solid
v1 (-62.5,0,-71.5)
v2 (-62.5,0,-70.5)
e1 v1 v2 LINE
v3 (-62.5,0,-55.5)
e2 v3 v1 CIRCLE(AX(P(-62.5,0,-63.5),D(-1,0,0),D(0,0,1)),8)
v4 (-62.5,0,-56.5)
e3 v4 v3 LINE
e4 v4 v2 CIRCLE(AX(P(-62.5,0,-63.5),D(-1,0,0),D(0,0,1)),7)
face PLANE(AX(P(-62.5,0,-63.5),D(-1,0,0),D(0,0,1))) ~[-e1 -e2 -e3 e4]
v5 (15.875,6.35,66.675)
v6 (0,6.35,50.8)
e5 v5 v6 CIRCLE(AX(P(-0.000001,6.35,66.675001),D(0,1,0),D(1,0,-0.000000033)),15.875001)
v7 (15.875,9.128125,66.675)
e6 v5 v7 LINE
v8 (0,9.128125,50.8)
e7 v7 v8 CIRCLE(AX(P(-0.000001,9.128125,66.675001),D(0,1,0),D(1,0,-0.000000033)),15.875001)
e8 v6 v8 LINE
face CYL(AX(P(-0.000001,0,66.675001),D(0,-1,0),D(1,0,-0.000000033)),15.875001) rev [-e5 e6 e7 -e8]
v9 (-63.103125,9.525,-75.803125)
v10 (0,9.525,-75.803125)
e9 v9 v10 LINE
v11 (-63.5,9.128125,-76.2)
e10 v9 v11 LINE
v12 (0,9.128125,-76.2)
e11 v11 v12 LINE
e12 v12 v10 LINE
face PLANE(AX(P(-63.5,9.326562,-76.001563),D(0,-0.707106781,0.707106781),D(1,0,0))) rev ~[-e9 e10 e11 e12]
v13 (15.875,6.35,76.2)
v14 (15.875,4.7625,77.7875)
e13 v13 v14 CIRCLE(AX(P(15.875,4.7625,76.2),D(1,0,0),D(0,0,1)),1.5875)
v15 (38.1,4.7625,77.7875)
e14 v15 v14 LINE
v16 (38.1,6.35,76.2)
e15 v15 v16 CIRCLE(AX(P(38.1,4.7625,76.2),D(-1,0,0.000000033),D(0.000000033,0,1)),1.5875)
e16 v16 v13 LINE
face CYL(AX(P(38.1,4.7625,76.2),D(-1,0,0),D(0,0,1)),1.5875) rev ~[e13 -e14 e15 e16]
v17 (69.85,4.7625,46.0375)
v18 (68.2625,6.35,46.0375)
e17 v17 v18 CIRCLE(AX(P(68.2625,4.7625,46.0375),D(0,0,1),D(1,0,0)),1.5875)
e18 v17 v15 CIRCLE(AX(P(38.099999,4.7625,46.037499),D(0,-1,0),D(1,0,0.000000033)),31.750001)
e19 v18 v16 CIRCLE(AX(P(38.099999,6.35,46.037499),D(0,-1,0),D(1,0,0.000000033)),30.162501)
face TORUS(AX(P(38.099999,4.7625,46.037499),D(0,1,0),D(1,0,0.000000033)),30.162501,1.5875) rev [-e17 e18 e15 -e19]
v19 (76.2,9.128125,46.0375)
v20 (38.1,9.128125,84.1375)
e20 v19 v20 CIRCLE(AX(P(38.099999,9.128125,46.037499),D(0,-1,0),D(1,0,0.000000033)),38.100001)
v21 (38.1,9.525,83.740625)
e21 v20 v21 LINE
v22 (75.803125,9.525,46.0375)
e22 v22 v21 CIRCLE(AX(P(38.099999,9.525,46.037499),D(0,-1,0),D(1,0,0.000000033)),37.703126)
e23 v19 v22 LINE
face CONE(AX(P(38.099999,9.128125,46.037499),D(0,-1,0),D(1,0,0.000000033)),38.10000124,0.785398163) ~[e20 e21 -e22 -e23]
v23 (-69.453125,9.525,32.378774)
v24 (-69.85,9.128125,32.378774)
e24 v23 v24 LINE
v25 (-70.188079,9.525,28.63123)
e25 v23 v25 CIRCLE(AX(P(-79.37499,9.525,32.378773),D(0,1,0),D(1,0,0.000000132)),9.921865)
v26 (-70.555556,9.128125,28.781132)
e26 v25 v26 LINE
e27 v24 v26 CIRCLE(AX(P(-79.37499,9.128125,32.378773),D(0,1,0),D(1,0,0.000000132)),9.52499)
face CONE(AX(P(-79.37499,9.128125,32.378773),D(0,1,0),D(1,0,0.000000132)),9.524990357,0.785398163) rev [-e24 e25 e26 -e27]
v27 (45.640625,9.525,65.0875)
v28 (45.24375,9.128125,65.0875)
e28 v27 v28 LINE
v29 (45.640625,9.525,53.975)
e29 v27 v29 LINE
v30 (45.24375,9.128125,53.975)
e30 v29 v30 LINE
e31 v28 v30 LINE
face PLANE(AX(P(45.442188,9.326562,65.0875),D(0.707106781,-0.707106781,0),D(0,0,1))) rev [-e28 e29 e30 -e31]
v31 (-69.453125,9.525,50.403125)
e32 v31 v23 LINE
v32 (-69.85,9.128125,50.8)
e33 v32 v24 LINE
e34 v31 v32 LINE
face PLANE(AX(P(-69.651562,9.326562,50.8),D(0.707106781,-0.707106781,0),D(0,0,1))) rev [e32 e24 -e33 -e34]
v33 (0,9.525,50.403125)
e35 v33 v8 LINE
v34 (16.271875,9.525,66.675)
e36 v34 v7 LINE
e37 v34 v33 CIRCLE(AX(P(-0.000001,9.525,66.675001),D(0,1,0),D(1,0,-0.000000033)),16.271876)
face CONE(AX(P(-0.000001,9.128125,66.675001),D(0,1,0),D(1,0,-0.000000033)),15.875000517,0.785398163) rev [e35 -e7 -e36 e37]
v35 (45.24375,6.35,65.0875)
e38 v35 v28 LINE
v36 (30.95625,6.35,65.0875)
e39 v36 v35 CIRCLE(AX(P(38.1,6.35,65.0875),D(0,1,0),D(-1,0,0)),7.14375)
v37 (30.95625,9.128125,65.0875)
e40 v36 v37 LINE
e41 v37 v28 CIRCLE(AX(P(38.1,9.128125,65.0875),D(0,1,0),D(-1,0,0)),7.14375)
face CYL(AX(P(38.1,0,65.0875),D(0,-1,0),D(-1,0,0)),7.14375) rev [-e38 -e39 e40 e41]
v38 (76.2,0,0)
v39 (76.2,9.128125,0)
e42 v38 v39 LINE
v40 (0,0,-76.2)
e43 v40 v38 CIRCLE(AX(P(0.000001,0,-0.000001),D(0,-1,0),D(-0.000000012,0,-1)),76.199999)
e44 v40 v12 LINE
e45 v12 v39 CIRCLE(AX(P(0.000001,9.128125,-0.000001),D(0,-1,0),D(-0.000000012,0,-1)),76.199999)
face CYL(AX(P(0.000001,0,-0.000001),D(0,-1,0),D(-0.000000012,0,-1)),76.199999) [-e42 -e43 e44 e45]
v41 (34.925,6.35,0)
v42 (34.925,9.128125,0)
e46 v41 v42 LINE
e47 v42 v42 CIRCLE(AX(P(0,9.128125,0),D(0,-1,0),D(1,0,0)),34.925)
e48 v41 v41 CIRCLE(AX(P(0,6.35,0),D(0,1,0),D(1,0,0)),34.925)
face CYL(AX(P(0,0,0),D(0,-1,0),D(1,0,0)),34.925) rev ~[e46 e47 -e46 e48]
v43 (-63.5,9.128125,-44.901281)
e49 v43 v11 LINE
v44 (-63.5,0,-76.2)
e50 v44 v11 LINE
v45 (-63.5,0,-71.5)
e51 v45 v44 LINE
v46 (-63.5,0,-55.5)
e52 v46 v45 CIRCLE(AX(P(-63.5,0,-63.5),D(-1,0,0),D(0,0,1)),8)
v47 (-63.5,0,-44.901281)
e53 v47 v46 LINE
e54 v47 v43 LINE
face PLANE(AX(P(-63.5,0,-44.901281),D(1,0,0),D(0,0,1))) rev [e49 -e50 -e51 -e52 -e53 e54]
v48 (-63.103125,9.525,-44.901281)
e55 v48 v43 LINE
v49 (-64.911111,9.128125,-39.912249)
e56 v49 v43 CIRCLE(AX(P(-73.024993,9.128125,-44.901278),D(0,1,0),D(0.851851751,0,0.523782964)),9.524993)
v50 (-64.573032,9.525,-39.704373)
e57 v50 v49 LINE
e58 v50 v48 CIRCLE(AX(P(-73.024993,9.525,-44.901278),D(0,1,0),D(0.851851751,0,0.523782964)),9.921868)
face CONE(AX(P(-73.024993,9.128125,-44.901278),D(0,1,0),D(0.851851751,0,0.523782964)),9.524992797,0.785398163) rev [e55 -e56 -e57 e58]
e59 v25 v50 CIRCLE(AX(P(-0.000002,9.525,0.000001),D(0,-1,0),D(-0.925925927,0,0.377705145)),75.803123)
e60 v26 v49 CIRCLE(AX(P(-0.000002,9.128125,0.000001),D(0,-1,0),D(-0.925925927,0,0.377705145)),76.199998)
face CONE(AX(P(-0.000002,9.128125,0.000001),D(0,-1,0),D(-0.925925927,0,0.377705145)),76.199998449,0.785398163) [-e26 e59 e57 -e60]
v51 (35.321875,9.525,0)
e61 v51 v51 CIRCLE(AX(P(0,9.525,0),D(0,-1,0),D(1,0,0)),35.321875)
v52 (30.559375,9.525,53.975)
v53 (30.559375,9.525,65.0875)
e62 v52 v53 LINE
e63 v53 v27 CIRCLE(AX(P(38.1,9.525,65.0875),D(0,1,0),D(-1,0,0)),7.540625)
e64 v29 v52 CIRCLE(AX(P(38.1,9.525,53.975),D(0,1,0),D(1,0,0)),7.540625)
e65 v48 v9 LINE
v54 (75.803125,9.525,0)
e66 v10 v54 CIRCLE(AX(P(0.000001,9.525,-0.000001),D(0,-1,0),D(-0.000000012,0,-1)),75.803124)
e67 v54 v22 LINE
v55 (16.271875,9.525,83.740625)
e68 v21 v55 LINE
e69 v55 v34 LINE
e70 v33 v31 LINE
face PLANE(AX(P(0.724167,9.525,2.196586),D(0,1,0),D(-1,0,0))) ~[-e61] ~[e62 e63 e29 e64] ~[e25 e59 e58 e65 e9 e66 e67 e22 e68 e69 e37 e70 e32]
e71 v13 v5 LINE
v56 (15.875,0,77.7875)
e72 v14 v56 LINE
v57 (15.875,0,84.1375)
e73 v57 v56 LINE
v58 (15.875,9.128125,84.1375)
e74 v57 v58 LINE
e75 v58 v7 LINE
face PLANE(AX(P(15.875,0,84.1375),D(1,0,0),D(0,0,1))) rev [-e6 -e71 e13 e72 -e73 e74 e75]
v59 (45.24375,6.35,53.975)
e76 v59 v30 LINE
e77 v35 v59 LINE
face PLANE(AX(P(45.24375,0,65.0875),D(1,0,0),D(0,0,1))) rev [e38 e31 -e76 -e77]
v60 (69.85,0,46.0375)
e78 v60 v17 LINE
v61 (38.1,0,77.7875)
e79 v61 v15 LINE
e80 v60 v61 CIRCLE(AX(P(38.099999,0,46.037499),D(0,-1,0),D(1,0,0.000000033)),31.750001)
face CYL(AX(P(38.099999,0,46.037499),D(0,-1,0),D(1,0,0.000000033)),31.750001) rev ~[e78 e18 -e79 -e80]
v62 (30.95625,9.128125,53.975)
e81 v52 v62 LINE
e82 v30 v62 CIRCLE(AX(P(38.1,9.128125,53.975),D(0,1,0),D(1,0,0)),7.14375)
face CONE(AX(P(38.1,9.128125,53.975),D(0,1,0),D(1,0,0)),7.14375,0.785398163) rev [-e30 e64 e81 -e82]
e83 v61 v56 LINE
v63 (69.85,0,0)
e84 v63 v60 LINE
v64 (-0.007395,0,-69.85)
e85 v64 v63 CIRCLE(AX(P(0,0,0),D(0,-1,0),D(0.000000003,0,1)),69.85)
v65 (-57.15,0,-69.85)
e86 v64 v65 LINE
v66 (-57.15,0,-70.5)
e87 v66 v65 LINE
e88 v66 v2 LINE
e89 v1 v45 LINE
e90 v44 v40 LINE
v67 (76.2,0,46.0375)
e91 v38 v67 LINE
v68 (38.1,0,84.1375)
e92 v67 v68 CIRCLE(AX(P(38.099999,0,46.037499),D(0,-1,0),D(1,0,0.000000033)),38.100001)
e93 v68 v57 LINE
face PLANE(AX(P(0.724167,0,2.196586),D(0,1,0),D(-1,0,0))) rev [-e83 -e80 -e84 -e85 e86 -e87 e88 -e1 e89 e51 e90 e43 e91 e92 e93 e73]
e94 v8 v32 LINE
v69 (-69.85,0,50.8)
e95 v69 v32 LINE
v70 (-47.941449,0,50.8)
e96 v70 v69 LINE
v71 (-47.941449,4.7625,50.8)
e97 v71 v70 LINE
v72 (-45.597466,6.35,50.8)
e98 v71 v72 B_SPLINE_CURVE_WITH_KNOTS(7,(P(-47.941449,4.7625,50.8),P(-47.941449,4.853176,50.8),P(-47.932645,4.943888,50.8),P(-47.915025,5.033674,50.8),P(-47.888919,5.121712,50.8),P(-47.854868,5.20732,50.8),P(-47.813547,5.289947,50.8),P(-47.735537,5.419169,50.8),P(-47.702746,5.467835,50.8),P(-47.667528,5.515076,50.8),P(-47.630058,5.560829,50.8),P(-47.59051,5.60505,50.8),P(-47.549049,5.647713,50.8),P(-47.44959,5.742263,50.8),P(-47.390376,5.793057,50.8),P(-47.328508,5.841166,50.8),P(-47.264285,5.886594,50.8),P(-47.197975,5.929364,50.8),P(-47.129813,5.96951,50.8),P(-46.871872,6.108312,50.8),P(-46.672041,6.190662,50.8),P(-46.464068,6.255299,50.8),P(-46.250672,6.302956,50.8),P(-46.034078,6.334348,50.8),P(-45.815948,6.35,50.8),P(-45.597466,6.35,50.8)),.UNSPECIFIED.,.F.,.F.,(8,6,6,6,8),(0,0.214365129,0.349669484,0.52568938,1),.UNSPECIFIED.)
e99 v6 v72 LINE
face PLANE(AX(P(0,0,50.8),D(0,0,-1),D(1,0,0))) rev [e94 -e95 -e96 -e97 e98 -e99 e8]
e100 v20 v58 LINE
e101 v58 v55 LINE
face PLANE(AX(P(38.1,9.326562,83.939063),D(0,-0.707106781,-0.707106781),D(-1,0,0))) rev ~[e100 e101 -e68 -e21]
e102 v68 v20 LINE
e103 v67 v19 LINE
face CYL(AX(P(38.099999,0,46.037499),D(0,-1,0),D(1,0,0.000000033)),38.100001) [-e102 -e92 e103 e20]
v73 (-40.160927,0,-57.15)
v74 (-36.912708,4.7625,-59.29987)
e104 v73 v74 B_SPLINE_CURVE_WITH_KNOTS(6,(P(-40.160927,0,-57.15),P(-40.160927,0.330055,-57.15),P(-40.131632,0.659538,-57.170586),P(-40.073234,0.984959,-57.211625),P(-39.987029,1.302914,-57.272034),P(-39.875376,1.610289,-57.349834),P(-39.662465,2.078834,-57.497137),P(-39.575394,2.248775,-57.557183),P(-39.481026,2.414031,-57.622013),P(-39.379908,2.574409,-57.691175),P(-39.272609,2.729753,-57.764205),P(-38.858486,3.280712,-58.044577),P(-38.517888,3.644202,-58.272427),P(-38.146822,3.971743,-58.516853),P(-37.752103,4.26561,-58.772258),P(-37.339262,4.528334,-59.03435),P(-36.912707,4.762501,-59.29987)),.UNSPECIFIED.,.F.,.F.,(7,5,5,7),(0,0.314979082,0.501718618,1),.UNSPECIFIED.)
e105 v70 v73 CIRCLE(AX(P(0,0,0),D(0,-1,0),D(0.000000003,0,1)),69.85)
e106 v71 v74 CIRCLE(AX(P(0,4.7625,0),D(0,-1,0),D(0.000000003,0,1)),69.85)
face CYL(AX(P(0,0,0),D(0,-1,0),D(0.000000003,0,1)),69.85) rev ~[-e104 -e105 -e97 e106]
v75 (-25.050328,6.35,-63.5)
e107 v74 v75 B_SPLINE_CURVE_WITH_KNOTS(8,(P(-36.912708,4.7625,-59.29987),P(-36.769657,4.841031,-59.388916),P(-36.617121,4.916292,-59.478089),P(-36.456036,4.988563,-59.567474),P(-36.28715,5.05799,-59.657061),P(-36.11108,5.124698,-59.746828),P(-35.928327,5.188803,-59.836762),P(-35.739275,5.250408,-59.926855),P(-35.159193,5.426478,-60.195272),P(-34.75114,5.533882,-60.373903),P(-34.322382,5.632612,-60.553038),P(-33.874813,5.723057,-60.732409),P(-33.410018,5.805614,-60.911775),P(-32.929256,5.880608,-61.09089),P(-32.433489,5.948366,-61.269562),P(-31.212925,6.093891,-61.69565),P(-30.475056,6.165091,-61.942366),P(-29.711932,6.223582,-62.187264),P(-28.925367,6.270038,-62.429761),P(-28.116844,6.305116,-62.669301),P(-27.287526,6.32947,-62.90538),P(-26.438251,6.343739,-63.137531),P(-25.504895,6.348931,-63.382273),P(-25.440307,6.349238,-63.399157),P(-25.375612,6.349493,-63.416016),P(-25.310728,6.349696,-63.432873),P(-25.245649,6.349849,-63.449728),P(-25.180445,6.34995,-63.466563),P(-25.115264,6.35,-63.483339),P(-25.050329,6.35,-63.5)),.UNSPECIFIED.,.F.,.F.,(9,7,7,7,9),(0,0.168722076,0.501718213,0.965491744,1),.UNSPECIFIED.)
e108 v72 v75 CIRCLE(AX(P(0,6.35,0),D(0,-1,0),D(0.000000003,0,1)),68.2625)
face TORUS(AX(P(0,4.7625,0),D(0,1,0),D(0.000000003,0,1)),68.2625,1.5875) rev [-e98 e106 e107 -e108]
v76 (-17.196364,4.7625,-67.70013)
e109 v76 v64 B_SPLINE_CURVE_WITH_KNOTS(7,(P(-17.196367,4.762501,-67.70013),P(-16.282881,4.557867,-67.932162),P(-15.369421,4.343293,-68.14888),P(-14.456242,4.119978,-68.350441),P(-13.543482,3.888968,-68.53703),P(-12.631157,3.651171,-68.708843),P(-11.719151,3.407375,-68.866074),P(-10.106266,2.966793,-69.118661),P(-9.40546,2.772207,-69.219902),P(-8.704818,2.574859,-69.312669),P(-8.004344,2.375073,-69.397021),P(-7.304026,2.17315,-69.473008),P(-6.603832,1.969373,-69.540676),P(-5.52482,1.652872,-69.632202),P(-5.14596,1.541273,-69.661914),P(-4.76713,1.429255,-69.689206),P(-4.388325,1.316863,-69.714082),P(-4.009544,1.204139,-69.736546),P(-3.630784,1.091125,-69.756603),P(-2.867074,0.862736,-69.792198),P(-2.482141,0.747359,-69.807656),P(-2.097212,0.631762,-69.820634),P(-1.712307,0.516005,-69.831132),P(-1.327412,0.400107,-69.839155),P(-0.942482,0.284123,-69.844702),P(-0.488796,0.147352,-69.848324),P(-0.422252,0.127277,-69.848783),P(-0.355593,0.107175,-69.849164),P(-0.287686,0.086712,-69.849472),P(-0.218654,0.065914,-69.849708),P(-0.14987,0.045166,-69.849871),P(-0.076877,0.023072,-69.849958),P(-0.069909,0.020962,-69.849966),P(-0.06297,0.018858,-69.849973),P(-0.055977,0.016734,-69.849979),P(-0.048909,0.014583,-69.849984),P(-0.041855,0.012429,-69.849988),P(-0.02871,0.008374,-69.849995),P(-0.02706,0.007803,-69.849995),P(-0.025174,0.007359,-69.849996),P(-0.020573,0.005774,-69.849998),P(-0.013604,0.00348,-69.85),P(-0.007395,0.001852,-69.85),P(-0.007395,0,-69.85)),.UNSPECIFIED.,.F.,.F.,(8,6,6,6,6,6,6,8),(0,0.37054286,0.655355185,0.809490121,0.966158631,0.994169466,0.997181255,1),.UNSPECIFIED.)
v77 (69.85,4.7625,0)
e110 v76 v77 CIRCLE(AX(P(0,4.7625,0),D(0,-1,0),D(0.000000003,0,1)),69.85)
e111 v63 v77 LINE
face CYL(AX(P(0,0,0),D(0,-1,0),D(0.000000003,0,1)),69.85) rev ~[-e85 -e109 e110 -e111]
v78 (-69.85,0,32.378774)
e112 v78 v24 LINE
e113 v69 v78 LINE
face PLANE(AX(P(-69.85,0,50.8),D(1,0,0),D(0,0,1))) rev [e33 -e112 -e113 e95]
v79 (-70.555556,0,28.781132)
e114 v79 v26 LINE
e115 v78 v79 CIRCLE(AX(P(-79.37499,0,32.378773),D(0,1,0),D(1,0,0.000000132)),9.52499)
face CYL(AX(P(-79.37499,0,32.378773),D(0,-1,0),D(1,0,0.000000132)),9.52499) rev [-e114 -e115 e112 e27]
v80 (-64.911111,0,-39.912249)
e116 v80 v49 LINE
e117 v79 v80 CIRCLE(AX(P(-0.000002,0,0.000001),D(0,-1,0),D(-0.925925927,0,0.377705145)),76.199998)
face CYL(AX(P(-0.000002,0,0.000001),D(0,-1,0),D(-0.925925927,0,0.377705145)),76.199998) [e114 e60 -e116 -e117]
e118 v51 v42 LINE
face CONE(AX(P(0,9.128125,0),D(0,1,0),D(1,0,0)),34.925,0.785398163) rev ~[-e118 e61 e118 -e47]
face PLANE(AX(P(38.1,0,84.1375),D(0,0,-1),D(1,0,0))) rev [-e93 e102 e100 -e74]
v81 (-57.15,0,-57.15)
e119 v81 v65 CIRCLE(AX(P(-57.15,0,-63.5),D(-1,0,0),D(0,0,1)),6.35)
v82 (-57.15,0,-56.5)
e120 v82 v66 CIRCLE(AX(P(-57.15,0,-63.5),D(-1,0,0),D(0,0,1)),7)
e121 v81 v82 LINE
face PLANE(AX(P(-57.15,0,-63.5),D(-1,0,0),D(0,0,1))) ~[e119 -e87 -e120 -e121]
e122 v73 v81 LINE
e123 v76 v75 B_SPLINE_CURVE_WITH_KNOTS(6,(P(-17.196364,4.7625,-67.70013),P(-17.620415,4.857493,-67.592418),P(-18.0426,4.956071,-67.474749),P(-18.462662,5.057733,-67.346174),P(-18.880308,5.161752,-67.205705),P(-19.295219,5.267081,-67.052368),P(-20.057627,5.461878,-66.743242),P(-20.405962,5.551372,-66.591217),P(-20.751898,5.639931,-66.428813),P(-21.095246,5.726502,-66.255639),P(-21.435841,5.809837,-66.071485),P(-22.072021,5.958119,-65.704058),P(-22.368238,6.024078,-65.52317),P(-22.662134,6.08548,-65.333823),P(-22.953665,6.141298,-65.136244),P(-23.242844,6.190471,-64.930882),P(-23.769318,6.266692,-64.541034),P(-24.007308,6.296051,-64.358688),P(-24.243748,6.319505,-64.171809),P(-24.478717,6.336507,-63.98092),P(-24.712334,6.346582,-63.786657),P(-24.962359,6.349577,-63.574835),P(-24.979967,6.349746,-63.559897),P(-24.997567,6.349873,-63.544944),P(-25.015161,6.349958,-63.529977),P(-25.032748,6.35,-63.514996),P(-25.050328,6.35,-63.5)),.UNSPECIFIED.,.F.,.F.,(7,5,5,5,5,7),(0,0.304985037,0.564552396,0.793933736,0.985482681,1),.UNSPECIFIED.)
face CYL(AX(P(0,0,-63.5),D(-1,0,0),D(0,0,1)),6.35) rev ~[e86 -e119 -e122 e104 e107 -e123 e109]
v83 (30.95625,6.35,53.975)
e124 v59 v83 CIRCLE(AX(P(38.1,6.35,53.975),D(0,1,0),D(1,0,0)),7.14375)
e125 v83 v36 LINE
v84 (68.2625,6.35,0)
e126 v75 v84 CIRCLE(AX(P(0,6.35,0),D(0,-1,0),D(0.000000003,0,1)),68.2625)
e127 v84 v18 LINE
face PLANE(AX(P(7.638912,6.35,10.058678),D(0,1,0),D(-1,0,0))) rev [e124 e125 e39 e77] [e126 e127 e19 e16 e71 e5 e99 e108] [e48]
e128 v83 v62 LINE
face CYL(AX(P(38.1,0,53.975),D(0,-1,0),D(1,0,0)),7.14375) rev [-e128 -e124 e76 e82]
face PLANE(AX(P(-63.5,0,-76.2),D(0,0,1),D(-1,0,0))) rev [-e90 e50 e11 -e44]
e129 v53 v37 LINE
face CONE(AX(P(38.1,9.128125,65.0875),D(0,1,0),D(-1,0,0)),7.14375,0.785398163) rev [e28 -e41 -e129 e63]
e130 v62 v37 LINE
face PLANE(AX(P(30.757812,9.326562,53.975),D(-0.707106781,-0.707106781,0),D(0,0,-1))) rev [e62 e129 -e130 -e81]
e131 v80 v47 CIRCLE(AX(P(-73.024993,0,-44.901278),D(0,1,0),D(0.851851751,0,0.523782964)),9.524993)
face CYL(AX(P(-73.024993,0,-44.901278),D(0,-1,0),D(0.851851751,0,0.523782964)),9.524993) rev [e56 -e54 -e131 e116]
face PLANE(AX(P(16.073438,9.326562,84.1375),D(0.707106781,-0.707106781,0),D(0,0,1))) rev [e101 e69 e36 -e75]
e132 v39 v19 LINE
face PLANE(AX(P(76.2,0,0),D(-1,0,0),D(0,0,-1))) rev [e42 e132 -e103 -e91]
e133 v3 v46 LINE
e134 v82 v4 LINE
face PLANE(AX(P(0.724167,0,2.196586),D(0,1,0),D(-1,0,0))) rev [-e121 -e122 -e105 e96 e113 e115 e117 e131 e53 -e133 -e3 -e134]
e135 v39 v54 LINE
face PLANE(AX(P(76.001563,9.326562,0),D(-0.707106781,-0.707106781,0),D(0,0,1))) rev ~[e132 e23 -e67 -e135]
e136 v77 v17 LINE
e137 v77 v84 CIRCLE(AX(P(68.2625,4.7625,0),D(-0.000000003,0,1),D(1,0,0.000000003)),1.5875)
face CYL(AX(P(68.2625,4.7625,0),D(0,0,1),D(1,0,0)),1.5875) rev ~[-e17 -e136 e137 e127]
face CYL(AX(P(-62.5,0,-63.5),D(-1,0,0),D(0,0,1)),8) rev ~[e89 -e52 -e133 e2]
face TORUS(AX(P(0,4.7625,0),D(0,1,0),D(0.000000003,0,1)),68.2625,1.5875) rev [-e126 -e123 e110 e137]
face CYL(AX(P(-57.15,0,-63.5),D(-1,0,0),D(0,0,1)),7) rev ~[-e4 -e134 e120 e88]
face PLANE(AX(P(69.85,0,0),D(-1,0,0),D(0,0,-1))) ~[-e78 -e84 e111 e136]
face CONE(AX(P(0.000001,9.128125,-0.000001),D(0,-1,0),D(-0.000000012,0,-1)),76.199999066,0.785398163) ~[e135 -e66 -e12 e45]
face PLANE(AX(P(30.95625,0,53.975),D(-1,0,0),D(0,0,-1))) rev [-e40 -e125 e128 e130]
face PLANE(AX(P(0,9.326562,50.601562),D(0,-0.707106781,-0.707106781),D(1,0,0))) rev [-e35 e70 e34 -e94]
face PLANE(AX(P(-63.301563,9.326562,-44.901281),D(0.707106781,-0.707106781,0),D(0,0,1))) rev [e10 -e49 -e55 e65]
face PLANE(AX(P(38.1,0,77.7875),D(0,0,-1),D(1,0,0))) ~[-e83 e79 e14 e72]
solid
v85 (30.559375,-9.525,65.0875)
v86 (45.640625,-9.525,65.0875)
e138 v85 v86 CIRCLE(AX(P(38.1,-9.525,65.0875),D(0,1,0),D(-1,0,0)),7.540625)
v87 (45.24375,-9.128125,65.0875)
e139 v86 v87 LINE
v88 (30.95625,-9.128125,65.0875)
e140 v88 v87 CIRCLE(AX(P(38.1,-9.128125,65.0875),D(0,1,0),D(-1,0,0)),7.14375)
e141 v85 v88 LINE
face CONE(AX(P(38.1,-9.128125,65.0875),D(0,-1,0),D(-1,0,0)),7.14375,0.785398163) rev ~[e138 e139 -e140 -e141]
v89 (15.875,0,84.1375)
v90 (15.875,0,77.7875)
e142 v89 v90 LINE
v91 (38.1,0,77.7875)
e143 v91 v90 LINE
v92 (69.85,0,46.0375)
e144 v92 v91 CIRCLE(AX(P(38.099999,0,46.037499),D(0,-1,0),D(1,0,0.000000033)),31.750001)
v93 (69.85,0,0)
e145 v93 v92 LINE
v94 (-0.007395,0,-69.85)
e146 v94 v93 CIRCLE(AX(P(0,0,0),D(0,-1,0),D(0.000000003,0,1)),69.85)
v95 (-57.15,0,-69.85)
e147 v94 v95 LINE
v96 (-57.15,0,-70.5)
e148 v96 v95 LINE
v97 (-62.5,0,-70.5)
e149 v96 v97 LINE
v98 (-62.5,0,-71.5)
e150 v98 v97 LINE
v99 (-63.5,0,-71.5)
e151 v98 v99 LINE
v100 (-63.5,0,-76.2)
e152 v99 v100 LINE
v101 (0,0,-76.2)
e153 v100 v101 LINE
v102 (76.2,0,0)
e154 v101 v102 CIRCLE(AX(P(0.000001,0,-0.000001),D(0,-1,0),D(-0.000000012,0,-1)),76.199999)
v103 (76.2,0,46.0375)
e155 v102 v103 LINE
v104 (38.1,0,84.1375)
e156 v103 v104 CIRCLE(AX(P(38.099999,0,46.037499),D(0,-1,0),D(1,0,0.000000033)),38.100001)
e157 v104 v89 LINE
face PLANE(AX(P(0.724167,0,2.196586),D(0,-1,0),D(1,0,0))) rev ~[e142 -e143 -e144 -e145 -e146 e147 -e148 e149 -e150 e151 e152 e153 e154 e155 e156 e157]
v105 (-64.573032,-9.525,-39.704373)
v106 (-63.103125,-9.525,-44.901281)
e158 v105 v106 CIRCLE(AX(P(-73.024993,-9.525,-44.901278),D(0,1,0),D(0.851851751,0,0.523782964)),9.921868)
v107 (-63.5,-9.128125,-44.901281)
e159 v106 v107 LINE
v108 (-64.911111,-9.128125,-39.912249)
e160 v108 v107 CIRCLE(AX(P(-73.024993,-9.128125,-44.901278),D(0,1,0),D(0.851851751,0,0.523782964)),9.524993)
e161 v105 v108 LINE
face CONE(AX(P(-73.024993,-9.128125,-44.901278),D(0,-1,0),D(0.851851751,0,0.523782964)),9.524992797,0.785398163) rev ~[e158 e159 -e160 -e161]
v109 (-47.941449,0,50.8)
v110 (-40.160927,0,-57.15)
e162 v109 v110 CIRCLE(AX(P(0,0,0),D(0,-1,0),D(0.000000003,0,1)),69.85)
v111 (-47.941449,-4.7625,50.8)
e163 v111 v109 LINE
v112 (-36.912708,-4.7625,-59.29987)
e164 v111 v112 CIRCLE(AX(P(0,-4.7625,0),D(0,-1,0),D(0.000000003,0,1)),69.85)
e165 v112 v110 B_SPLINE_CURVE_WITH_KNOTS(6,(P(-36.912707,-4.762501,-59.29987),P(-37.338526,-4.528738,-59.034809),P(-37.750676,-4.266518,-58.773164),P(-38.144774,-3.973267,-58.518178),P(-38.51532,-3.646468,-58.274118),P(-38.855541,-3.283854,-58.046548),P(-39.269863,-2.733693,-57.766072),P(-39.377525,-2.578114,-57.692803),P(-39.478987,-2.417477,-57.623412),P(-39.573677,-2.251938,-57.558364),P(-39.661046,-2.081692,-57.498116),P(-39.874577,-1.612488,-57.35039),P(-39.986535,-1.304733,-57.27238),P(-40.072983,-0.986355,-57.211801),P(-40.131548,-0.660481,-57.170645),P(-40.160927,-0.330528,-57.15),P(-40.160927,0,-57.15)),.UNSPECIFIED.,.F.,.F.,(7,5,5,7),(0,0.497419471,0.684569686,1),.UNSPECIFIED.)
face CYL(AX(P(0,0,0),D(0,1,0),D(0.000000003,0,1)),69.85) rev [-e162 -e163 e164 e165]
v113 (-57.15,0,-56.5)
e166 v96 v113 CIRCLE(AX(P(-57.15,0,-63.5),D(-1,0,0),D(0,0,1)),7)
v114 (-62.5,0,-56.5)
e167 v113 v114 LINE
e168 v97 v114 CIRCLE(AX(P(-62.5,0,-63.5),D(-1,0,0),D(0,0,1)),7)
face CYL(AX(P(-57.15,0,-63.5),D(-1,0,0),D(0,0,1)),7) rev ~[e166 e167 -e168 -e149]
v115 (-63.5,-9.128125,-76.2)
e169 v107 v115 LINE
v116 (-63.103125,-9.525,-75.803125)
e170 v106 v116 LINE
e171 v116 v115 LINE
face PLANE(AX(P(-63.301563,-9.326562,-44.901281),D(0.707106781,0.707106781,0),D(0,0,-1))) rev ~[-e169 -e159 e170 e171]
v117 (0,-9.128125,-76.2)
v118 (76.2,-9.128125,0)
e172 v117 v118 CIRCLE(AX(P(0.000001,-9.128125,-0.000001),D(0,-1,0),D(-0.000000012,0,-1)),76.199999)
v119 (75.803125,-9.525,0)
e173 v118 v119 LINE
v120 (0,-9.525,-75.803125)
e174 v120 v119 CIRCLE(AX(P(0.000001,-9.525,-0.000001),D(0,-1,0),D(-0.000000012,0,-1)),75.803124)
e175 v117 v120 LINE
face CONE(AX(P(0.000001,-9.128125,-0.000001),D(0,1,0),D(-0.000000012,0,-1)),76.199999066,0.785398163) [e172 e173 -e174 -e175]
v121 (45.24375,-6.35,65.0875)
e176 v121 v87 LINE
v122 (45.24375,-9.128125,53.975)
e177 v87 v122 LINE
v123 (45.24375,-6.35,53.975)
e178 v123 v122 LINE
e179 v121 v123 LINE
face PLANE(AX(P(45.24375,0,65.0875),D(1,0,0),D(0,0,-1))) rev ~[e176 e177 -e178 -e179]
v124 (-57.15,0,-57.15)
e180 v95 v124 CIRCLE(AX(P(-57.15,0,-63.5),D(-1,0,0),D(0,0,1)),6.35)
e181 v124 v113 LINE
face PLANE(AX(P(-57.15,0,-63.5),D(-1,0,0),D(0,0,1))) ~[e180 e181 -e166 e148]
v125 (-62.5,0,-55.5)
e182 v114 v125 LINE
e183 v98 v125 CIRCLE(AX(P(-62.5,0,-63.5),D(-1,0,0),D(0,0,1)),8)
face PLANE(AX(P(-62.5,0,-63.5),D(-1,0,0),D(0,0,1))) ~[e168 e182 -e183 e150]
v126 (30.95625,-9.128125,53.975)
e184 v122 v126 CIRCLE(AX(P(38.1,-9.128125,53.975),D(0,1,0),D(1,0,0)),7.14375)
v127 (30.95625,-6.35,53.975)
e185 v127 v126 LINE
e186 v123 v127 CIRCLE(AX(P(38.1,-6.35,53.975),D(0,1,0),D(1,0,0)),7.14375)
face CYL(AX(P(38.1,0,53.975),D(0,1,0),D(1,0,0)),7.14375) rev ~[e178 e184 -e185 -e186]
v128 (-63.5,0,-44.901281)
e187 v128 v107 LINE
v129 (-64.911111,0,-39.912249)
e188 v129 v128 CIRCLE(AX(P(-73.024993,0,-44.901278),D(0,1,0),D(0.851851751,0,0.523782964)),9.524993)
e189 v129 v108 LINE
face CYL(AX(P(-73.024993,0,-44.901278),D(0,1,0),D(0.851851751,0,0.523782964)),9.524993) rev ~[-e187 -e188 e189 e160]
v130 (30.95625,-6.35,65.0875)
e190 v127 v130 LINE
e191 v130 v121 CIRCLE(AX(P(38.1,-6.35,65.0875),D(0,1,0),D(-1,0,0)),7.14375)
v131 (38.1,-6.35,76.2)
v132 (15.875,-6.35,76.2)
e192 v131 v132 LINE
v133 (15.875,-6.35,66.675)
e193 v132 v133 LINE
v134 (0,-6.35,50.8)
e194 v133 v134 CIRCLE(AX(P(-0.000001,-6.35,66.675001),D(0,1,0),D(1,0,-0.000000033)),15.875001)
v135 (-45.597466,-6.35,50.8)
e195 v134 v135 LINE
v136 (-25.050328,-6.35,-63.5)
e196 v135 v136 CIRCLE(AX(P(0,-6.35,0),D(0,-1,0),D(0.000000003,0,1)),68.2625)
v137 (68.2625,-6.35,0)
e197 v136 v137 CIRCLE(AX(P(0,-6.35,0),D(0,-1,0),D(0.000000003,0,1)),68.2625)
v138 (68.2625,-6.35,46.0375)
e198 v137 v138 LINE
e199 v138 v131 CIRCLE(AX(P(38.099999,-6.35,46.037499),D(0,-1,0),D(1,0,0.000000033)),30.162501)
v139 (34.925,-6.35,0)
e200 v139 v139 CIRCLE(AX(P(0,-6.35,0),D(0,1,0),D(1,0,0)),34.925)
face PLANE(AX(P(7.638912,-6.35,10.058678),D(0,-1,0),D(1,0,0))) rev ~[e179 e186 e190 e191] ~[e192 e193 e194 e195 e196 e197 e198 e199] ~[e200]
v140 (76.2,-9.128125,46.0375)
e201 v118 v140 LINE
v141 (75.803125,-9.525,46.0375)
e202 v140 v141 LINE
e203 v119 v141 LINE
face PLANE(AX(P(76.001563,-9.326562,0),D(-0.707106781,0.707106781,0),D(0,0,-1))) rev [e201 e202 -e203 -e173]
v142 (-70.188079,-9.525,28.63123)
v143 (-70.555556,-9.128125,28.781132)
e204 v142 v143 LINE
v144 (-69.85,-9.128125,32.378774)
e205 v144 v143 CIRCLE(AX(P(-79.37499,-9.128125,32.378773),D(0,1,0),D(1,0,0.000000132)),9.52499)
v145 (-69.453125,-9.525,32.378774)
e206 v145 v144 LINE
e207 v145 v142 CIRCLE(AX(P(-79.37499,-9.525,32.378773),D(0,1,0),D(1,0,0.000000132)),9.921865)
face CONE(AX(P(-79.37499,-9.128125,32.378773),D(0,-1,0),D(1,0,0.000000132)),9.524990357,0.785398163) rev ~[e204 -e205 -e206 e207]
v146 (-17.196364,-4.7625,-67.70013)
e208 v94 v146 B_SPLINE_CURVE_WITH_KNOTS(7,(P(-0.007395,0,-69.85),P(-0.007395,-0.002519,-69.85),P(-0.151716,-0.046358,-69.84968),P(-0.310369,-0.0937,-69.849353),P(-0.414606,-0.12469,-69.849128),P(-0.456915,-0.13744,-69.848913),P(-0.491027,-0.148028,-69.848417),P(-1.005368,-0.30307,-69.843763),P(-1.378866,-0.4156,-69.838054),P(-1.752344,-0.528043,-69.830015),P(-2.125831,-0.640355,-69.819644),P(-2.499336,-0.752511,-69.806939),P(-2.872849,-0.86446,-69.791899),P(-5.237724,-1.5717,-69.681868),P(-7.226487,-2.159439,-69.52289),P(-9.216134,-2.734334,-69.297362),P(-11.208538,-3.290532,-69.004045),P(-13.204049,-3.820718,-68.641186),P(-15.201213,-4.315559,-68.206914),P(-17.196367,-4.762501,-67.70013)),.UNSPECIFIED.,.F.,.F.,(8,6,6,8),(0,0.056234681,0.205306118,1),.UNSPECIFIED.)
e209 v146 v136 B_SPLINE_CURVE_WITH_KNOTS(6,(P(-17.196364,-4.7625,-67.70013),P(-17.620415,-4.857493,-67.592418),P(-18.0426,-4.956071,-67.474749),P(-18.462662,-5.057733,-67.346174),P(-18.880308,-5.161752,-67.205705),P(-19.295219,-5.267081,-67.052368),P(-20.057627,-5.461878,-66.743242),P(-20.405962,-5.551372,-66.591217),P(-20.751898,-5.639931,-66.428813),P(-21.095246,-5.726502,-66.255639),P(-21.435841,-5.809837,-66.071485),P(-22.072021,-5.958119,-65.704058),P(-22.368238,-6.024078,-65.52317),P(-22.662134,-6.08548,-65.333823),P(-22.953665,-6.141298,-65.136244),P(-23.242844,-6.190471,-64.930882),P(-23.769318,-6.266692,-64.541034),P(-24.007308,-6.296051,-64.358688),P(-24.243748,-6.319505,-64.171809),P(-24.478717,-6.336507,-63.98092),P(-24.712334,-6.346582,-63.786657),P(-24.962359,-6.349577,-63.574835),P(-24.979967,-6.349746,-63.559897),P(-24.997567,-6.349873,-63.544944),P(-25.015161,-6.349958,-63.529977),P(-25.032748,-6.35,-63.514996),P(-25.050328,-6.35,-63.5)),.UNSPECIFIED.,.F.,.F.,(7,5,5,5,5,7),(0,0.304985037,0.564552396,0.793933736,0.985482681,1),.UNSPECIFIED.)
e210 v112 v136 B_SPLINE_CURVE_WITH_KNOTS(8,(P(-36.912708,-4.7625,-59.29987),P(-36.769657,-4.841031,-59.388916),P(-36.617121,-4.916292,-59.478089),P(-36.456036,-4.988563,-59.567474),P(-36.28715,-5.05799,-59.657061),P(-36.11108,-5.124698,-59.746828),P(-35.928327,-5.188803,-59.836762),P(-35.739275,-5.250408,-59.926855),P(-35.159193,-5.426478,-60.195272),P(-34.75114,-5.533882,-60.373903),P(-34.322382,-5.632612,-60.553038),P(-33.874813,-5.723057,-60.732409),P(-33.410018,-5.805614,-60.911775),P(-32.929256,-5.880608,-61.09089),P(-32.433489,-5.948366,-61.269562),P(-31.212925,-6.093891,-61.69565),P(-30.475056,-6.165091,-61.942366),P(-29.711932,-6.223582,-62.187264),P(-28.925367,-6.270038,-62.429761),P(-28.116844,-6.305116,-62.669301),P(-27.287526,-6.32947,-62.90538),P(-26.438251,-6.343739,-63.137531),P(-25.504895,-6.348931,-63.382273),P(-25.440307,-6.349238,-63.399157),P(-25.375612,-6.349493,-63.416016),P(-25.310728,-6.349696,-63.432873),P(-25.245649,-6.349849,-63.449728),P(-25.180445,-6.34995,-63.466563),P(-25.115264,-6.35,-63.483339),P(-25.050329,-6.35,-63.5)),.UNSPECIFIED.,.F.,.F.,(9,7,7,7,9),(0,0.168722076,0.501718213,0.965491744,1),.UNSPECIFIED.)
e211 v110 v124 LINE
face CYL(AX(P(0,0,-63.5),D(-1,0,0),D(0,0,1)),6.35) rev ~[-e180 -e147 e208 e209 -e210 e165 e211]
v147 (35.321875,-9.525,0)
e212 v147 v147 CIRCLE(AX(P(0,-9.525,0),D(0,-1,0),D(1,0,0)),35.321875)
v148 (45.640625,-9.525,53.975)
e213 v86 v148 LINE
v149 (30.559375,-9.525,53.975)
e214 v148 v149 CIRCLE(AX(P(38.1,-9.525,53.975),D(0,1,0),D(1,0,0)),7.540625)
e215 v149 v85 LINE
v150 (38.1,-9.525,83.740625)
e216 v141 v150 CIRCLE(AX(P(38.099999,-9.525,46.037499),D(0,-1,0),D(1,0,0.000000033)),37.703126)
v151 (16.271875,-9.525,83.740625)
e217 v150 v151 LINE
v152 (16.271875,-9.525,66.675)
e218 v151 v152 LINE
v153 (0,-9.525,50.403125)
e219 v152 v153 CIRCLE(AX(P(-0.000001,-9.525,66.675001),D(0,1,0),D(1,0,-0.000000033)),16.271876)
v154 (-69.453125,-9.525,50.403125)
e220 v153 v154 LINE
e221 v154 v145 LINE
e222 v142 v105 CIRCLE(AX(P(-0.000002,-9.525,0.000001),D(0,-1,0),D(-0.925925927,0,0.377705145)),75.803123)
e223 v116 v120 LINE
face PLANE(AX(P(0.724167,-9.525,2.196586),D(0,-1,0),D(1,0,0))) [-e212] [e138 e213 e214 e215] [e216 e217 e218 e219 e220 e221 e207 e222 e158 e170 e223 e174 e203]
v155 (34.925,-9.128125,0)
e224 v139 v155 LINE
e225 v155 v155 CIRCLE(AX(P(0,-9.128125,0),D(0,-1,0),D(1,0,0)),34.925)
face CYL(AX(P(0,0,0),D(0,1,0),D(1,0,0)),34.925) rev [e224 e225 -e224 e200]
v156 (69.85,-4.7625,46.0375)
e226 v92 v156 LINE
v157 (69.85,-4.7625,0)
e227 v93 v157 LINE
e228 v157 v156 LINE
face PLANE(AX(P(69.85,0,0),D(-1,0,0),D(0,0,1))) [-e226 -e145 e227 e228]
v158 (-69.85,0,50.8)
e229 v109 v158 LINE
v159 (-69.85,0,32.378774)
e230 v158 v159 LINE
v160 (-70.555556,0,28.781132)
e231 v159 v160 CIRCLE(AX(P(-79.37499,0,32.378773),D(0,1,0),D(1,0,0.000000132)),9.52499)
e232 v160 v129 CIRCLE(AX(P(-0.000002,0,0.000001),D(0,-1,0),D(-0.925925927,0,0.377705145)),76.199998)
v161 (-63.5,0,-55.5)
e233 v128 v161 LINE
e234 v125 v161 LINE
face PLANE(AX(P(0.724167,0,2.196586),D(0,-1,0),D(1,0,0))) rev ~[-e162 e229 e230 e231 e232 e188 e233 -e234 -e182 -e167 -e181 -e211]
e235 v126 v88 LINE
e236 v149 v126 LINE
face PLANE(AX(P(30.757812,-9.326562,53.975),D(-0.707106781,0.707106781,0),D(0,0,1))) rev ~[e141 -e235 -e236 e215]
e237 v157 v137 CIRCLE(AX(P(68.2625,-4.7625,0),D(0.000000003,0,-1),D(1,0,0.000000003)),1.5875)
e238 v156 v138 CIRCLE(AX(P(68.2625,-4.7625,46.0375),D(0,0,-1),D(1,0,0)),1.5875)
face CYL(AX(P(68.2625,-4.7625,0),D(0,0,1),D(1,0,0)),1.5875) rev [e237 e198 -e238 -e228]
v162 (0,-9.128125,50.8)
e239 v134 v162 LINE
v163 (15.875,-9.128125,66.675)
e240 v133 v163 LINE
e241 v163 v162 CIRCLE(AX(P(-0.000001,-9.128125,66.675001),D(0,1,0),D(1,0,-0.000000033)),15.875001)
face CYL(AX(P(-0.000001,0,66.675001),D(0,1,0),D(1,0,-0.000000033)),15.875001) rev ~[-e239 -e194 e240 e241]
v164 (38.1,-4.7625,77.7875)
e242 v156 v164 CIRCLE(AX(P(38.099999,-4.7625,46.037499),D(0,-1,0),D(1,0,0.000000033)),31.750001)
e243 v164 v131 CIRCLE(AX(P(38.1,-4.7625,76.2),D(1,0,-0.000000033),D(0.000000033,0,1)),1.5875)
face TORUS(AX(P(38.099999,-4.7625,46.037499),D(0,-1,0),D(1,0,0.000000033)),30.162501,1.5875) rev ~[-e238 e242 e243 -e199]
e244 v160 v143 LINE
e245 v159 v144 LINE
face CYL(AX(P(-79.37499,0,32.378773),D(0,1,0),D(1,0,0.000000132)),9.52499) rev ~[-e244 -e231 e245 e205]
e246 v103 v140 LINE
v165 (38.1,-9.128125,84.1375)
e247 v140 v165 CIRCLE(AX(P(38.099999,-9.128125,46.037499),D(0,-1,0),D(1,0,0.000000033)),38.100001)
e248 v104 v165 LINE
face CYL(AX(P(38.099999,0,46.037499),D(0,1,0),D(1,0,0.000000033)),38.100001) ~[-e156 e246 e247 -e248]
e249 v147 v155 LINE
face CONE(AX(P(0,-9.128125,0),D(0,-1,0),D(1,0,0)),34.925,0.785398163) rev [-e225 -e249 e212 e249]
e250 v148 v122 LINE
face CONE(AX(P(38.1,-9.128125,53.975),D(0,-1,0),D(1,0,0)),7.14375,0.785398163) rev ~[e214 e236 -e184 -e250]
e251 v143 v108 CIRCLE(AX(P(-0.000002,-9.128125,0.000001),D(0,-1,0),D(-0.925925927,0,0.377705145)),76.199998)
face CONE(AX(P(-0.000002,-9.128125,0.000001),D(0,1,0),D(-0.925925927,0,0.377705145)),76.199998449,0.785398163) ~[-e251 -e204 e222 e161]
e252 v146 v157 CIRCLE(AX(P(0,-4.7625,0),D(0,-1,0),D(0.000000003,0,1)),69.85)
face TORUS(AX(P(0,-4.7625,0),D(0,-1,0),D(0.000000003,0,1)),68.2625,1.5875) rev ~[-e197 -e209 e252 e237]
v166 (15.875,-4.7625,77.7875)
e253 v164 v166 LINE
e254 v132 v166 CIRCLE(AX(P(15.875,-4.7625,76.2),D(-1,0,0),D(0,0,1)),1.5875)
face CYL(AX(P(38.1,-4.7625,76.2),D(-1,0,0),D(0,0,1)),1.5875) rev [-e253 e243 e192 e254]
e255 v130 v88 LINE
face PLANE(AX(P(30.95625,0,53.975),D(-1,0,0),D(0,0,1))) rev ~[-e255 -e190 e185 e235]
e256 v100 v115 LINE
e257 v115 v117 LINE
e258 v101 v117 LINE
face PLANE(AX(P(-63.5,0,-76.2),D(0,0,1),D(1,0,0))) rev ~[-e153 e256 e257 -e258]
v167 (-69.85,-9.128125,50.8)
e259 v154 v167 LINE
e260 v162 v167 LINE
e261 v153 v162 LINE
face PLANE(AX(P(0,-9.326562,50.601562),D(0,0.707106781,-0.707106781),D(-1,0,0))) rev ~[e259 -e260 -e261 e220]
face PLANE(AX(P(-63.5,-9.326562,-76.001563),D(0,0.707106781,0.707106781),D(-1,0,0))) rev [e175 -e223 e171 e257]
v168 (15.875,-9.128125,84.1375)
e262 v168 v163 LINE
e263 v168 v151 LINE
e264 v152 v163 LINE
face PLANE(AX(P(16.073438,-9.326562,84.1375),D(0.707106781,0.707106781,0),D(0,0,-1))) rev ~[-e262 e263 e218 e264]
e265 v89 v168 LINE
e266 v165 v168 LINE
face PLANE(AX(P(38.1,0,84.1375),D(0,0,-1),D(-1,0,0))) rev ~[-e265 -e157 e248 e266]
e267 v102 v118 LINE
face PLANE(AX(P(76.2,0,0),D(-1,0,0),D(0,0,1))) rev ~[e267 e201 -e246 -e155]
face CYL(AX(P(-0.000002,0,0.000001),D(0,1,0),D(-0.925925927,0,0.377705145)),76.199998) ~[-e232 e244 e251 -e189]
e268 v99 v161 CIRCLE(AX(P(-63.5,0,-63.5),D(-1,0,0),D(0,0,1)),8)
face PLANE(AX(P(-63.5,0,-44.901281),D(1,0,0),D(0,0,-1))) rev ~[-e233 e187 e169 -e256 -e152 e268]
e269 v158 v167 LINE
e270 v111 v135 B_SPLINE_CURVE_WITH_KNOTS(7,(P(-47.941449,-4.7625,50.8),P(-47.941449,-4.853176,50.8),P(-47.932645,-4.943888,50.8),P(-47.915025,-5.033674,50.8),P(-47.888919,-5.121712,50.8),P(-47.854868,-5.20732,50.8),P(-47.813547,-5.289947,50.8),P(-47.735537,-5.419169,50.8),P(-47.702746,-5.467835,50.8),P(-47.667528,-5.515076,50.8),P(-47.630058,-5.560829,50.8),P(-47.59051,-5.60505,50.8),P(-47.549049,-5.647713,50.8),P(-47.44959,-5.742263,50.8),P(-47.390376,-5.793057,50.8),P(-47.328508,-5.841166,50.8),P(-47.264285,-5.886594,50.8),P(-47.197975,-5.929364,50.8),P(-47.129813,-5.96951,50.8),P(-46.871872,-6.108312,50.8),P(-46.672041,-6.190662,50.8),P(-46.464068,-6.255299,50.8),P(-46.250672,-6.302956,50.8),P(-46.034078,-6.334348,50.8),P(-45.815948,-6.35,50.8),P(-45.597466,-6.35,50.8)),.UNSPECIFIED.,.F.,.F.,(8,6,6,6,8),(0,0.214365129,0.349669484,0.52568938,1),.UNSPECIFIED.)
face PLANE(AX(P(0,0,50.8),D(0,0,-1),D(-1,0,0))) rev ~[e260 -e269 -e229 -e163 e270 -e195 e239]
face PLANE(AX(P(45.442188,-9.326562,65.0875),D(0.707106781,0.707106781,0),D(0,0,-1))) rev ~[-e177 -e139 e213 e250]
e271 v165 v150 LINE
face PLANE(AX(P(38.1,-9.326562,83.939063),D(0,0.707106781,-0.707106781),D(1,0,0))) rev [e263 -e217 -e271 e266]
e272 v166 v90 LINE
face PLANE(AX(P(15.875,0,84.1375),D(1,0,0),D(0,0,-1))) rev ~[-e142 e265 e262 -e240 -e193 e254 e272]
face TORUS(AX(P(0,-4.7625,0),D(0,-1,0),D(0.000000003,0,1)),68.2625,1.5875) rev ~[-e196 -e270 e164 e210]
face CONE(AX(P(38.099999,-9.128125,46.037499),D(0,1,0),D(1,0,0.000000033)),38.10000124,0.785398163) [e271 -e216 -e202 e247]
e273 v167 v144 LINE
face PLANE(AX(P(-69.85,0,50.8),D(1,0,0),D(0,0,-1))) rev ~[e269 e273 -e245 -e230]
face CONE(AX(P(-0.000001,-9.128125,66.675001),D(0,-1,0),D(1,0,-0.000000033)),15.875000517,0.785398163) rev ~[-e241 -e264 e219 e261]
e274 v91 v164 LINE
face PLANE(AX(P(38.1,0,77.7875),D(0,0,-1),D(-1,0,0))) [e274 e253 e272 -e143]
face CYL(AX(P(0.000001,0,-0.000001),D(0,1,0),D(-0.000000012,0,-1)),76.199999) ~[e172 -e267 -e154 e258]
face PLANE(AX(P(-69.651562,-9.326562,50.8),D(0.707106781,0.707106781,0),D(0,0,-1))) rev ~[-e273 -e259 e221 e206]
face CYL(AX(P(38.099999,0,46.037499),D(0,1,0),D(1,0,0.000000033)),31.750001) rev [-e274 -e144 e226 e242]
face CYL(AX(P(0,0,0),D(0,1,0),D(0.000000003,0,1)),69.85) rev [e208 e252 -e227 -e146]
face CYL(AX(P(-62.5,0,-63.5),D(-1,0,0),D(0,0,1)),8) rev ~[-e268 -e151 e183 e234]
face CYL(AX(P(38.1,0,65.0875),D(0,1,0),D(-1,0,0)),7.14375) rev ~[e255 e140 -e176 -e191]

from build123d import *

# Parameters (mm, degrees)
F2_DEPTH = 6.35
F3_R     = 1.5875
F0_R     = 34.925
F4_DEPTH = 9.525
F7_SIZE  = 0.396875


with BuildPart() as f2:
    # F1 (on Front) → F2 (new body)
    with BuildSketch(Plane.XZ):
        with BuildLine():
            Line((0, 77.7875), (0, 69.85))
            ThreePointArc((0, 69.85), (-49.391409, -49.391409), (69.85, 0))
            Line((69.85, 0), (69.85, 46.0375))
            ThreePointArc((69.85, 46.0375), (60.55064, 68.48814), (38.1, 77.7875))
            Line((38.1, 77.7875), (0, 77.7875))
        make_face()
    extrude(amount=F2_DEPTH)

    # F3
    f3_edges = [f2.edges().sort_by_distance(p)[0] for p in [
        (60.55064, -6.35, 68.48814),
    ]]
    fillet(f3_edges, radius=F3_R)


with BuildPart() as f4:
    # F0 (on Front) → F4 (new body)
    with BuildSketch(Plane.XZ):
        with BuildLine():
            Line((-63.5, -76.2), (0, -76.2))
            ThreePointArc((0, -76.2), (53.881537, -53.881537), (76.2, 0))
            Line((76.2, 0), (76.2, 46.0375))
            ThreePointArc((76.2, 46.0375), (65.040768, 72.978268), (38.1, 84.1375))
            Line((38.1, 84.1375), (15.875, 84.1375))
            Line((15.875, 84.1375), (15.875, 66.675))
            ThreePointArc((15.875, 66.675), (11.22532, 55.44968), (0, 50.8))
            Line((0, 50.8), (-69.85, 50.8))
            Line((-69.85, 50.8), (-69.85, 32.378774))
            ThreePointArc((-69.85, 32.378774), (-70.028053, 30.545687), (-70.555556, 28.781132))
            ThreePointArc((-70.555556, 28.781132), (-75.944056, -6.240223), (-64.911111, -39.912249))
            ThreePointArc((-64.911111, -39.912249), (-63.859564, -42.308904), (-63.5, -44.901281))
            Line((-63.5, -44.901281), (-63.5, -76.2))
        make_face()
        Circle(F0_R, mode=Mode.SUBTRACT)
        with BuildLine():
            ThreePointArc((45.24375, 53.975), (38.1, 46.83125), (30.95625, 53.975))
            Line((30.95625, 53.975), (30.95625, 65.0875))
            ThreePointArc((30.95625, 65.0875), (38.1, 72.23125), (45.24375, 65.0875))
            Line((45.24375, 65.0875), (45.24375, 53.975))
        make_face(mode=Mode.SUBTRACT)
    extrude(amount=F4_DEPTH)

    # F5: cut F2
    add(f2.part, mode=Mode.SUBTRACT)

    # F7
    f7_edges = [f4.edges().sort_by_distance(p)[0] for p in [
        (-63.859564, -9.525, -42.308904),
        (-63.5, -9.525, -60.55064),
        (-31.75, -9.525, -76.2),
        (53.881537, -9.525, -53.881537),
        (76.2, -9.525, 23.01875),
        (65.040768, -9.525, 72.978268),
        (26.9875, -9.525, 84.1375),
        (15.875, -9.525, 75.40625),
        (11.22532, -9.525, 55.44968),
        (-34.925, -9.525, 50.8),
        (-69.85, -9.525, 41.589387),
        (-70.028053, -9.525, 30.545687),
        (-75.944056, -9.525, -6.240223),
        (-34.925, -9.525, 0),
        (38.1, -9.525, 72.23125),
        (45.24375, -9.525, 59.53125),
        (38.1, -9.525, 46.83125),
        (30.95625, -9.525, 59.53125),
    ]]
    chamfer(f7_edges, length=F7_SIZE)


with BuildPart() as f6_1:
    # F6: instance of F4
    add(f4.part.mirror(Plane(origin=(-4.823836, 0, -16.021516), x_dir=(1, 0, 0), z_dir=(0, 1, 0))))


with BuildPart() as f9_tool:
    # F8 (on Front) → F9 (revolve)
    with BuildSketch(Plane.XZ):
        Polygon((-63.5, -63.5), (0, -63.5), (0, -57.15), (-57.15, -57.15), (-57.15, -56.5), (-62.5, -56.5), (-62.5, -55.5), (-63.5, -55.5), align=None)
    revolve(axis=Axis((-38.34922, 0, -63.5), (-1, 0, 0)))


with BuildPart() as f4_1:
    add(f4.part)

    # F9: cut by f9_tool
    add(f9_tool.part, mode=Mode.SUBTRACT)


with BuildPart() as f6_1_1:
    add(f6_1.part)

    # F9: cut by f9_tool
    add(f9_tool.part, mode=Mode.SUBTRACT)


solid = Compound([f4_1.part, f6_1_1.part])
